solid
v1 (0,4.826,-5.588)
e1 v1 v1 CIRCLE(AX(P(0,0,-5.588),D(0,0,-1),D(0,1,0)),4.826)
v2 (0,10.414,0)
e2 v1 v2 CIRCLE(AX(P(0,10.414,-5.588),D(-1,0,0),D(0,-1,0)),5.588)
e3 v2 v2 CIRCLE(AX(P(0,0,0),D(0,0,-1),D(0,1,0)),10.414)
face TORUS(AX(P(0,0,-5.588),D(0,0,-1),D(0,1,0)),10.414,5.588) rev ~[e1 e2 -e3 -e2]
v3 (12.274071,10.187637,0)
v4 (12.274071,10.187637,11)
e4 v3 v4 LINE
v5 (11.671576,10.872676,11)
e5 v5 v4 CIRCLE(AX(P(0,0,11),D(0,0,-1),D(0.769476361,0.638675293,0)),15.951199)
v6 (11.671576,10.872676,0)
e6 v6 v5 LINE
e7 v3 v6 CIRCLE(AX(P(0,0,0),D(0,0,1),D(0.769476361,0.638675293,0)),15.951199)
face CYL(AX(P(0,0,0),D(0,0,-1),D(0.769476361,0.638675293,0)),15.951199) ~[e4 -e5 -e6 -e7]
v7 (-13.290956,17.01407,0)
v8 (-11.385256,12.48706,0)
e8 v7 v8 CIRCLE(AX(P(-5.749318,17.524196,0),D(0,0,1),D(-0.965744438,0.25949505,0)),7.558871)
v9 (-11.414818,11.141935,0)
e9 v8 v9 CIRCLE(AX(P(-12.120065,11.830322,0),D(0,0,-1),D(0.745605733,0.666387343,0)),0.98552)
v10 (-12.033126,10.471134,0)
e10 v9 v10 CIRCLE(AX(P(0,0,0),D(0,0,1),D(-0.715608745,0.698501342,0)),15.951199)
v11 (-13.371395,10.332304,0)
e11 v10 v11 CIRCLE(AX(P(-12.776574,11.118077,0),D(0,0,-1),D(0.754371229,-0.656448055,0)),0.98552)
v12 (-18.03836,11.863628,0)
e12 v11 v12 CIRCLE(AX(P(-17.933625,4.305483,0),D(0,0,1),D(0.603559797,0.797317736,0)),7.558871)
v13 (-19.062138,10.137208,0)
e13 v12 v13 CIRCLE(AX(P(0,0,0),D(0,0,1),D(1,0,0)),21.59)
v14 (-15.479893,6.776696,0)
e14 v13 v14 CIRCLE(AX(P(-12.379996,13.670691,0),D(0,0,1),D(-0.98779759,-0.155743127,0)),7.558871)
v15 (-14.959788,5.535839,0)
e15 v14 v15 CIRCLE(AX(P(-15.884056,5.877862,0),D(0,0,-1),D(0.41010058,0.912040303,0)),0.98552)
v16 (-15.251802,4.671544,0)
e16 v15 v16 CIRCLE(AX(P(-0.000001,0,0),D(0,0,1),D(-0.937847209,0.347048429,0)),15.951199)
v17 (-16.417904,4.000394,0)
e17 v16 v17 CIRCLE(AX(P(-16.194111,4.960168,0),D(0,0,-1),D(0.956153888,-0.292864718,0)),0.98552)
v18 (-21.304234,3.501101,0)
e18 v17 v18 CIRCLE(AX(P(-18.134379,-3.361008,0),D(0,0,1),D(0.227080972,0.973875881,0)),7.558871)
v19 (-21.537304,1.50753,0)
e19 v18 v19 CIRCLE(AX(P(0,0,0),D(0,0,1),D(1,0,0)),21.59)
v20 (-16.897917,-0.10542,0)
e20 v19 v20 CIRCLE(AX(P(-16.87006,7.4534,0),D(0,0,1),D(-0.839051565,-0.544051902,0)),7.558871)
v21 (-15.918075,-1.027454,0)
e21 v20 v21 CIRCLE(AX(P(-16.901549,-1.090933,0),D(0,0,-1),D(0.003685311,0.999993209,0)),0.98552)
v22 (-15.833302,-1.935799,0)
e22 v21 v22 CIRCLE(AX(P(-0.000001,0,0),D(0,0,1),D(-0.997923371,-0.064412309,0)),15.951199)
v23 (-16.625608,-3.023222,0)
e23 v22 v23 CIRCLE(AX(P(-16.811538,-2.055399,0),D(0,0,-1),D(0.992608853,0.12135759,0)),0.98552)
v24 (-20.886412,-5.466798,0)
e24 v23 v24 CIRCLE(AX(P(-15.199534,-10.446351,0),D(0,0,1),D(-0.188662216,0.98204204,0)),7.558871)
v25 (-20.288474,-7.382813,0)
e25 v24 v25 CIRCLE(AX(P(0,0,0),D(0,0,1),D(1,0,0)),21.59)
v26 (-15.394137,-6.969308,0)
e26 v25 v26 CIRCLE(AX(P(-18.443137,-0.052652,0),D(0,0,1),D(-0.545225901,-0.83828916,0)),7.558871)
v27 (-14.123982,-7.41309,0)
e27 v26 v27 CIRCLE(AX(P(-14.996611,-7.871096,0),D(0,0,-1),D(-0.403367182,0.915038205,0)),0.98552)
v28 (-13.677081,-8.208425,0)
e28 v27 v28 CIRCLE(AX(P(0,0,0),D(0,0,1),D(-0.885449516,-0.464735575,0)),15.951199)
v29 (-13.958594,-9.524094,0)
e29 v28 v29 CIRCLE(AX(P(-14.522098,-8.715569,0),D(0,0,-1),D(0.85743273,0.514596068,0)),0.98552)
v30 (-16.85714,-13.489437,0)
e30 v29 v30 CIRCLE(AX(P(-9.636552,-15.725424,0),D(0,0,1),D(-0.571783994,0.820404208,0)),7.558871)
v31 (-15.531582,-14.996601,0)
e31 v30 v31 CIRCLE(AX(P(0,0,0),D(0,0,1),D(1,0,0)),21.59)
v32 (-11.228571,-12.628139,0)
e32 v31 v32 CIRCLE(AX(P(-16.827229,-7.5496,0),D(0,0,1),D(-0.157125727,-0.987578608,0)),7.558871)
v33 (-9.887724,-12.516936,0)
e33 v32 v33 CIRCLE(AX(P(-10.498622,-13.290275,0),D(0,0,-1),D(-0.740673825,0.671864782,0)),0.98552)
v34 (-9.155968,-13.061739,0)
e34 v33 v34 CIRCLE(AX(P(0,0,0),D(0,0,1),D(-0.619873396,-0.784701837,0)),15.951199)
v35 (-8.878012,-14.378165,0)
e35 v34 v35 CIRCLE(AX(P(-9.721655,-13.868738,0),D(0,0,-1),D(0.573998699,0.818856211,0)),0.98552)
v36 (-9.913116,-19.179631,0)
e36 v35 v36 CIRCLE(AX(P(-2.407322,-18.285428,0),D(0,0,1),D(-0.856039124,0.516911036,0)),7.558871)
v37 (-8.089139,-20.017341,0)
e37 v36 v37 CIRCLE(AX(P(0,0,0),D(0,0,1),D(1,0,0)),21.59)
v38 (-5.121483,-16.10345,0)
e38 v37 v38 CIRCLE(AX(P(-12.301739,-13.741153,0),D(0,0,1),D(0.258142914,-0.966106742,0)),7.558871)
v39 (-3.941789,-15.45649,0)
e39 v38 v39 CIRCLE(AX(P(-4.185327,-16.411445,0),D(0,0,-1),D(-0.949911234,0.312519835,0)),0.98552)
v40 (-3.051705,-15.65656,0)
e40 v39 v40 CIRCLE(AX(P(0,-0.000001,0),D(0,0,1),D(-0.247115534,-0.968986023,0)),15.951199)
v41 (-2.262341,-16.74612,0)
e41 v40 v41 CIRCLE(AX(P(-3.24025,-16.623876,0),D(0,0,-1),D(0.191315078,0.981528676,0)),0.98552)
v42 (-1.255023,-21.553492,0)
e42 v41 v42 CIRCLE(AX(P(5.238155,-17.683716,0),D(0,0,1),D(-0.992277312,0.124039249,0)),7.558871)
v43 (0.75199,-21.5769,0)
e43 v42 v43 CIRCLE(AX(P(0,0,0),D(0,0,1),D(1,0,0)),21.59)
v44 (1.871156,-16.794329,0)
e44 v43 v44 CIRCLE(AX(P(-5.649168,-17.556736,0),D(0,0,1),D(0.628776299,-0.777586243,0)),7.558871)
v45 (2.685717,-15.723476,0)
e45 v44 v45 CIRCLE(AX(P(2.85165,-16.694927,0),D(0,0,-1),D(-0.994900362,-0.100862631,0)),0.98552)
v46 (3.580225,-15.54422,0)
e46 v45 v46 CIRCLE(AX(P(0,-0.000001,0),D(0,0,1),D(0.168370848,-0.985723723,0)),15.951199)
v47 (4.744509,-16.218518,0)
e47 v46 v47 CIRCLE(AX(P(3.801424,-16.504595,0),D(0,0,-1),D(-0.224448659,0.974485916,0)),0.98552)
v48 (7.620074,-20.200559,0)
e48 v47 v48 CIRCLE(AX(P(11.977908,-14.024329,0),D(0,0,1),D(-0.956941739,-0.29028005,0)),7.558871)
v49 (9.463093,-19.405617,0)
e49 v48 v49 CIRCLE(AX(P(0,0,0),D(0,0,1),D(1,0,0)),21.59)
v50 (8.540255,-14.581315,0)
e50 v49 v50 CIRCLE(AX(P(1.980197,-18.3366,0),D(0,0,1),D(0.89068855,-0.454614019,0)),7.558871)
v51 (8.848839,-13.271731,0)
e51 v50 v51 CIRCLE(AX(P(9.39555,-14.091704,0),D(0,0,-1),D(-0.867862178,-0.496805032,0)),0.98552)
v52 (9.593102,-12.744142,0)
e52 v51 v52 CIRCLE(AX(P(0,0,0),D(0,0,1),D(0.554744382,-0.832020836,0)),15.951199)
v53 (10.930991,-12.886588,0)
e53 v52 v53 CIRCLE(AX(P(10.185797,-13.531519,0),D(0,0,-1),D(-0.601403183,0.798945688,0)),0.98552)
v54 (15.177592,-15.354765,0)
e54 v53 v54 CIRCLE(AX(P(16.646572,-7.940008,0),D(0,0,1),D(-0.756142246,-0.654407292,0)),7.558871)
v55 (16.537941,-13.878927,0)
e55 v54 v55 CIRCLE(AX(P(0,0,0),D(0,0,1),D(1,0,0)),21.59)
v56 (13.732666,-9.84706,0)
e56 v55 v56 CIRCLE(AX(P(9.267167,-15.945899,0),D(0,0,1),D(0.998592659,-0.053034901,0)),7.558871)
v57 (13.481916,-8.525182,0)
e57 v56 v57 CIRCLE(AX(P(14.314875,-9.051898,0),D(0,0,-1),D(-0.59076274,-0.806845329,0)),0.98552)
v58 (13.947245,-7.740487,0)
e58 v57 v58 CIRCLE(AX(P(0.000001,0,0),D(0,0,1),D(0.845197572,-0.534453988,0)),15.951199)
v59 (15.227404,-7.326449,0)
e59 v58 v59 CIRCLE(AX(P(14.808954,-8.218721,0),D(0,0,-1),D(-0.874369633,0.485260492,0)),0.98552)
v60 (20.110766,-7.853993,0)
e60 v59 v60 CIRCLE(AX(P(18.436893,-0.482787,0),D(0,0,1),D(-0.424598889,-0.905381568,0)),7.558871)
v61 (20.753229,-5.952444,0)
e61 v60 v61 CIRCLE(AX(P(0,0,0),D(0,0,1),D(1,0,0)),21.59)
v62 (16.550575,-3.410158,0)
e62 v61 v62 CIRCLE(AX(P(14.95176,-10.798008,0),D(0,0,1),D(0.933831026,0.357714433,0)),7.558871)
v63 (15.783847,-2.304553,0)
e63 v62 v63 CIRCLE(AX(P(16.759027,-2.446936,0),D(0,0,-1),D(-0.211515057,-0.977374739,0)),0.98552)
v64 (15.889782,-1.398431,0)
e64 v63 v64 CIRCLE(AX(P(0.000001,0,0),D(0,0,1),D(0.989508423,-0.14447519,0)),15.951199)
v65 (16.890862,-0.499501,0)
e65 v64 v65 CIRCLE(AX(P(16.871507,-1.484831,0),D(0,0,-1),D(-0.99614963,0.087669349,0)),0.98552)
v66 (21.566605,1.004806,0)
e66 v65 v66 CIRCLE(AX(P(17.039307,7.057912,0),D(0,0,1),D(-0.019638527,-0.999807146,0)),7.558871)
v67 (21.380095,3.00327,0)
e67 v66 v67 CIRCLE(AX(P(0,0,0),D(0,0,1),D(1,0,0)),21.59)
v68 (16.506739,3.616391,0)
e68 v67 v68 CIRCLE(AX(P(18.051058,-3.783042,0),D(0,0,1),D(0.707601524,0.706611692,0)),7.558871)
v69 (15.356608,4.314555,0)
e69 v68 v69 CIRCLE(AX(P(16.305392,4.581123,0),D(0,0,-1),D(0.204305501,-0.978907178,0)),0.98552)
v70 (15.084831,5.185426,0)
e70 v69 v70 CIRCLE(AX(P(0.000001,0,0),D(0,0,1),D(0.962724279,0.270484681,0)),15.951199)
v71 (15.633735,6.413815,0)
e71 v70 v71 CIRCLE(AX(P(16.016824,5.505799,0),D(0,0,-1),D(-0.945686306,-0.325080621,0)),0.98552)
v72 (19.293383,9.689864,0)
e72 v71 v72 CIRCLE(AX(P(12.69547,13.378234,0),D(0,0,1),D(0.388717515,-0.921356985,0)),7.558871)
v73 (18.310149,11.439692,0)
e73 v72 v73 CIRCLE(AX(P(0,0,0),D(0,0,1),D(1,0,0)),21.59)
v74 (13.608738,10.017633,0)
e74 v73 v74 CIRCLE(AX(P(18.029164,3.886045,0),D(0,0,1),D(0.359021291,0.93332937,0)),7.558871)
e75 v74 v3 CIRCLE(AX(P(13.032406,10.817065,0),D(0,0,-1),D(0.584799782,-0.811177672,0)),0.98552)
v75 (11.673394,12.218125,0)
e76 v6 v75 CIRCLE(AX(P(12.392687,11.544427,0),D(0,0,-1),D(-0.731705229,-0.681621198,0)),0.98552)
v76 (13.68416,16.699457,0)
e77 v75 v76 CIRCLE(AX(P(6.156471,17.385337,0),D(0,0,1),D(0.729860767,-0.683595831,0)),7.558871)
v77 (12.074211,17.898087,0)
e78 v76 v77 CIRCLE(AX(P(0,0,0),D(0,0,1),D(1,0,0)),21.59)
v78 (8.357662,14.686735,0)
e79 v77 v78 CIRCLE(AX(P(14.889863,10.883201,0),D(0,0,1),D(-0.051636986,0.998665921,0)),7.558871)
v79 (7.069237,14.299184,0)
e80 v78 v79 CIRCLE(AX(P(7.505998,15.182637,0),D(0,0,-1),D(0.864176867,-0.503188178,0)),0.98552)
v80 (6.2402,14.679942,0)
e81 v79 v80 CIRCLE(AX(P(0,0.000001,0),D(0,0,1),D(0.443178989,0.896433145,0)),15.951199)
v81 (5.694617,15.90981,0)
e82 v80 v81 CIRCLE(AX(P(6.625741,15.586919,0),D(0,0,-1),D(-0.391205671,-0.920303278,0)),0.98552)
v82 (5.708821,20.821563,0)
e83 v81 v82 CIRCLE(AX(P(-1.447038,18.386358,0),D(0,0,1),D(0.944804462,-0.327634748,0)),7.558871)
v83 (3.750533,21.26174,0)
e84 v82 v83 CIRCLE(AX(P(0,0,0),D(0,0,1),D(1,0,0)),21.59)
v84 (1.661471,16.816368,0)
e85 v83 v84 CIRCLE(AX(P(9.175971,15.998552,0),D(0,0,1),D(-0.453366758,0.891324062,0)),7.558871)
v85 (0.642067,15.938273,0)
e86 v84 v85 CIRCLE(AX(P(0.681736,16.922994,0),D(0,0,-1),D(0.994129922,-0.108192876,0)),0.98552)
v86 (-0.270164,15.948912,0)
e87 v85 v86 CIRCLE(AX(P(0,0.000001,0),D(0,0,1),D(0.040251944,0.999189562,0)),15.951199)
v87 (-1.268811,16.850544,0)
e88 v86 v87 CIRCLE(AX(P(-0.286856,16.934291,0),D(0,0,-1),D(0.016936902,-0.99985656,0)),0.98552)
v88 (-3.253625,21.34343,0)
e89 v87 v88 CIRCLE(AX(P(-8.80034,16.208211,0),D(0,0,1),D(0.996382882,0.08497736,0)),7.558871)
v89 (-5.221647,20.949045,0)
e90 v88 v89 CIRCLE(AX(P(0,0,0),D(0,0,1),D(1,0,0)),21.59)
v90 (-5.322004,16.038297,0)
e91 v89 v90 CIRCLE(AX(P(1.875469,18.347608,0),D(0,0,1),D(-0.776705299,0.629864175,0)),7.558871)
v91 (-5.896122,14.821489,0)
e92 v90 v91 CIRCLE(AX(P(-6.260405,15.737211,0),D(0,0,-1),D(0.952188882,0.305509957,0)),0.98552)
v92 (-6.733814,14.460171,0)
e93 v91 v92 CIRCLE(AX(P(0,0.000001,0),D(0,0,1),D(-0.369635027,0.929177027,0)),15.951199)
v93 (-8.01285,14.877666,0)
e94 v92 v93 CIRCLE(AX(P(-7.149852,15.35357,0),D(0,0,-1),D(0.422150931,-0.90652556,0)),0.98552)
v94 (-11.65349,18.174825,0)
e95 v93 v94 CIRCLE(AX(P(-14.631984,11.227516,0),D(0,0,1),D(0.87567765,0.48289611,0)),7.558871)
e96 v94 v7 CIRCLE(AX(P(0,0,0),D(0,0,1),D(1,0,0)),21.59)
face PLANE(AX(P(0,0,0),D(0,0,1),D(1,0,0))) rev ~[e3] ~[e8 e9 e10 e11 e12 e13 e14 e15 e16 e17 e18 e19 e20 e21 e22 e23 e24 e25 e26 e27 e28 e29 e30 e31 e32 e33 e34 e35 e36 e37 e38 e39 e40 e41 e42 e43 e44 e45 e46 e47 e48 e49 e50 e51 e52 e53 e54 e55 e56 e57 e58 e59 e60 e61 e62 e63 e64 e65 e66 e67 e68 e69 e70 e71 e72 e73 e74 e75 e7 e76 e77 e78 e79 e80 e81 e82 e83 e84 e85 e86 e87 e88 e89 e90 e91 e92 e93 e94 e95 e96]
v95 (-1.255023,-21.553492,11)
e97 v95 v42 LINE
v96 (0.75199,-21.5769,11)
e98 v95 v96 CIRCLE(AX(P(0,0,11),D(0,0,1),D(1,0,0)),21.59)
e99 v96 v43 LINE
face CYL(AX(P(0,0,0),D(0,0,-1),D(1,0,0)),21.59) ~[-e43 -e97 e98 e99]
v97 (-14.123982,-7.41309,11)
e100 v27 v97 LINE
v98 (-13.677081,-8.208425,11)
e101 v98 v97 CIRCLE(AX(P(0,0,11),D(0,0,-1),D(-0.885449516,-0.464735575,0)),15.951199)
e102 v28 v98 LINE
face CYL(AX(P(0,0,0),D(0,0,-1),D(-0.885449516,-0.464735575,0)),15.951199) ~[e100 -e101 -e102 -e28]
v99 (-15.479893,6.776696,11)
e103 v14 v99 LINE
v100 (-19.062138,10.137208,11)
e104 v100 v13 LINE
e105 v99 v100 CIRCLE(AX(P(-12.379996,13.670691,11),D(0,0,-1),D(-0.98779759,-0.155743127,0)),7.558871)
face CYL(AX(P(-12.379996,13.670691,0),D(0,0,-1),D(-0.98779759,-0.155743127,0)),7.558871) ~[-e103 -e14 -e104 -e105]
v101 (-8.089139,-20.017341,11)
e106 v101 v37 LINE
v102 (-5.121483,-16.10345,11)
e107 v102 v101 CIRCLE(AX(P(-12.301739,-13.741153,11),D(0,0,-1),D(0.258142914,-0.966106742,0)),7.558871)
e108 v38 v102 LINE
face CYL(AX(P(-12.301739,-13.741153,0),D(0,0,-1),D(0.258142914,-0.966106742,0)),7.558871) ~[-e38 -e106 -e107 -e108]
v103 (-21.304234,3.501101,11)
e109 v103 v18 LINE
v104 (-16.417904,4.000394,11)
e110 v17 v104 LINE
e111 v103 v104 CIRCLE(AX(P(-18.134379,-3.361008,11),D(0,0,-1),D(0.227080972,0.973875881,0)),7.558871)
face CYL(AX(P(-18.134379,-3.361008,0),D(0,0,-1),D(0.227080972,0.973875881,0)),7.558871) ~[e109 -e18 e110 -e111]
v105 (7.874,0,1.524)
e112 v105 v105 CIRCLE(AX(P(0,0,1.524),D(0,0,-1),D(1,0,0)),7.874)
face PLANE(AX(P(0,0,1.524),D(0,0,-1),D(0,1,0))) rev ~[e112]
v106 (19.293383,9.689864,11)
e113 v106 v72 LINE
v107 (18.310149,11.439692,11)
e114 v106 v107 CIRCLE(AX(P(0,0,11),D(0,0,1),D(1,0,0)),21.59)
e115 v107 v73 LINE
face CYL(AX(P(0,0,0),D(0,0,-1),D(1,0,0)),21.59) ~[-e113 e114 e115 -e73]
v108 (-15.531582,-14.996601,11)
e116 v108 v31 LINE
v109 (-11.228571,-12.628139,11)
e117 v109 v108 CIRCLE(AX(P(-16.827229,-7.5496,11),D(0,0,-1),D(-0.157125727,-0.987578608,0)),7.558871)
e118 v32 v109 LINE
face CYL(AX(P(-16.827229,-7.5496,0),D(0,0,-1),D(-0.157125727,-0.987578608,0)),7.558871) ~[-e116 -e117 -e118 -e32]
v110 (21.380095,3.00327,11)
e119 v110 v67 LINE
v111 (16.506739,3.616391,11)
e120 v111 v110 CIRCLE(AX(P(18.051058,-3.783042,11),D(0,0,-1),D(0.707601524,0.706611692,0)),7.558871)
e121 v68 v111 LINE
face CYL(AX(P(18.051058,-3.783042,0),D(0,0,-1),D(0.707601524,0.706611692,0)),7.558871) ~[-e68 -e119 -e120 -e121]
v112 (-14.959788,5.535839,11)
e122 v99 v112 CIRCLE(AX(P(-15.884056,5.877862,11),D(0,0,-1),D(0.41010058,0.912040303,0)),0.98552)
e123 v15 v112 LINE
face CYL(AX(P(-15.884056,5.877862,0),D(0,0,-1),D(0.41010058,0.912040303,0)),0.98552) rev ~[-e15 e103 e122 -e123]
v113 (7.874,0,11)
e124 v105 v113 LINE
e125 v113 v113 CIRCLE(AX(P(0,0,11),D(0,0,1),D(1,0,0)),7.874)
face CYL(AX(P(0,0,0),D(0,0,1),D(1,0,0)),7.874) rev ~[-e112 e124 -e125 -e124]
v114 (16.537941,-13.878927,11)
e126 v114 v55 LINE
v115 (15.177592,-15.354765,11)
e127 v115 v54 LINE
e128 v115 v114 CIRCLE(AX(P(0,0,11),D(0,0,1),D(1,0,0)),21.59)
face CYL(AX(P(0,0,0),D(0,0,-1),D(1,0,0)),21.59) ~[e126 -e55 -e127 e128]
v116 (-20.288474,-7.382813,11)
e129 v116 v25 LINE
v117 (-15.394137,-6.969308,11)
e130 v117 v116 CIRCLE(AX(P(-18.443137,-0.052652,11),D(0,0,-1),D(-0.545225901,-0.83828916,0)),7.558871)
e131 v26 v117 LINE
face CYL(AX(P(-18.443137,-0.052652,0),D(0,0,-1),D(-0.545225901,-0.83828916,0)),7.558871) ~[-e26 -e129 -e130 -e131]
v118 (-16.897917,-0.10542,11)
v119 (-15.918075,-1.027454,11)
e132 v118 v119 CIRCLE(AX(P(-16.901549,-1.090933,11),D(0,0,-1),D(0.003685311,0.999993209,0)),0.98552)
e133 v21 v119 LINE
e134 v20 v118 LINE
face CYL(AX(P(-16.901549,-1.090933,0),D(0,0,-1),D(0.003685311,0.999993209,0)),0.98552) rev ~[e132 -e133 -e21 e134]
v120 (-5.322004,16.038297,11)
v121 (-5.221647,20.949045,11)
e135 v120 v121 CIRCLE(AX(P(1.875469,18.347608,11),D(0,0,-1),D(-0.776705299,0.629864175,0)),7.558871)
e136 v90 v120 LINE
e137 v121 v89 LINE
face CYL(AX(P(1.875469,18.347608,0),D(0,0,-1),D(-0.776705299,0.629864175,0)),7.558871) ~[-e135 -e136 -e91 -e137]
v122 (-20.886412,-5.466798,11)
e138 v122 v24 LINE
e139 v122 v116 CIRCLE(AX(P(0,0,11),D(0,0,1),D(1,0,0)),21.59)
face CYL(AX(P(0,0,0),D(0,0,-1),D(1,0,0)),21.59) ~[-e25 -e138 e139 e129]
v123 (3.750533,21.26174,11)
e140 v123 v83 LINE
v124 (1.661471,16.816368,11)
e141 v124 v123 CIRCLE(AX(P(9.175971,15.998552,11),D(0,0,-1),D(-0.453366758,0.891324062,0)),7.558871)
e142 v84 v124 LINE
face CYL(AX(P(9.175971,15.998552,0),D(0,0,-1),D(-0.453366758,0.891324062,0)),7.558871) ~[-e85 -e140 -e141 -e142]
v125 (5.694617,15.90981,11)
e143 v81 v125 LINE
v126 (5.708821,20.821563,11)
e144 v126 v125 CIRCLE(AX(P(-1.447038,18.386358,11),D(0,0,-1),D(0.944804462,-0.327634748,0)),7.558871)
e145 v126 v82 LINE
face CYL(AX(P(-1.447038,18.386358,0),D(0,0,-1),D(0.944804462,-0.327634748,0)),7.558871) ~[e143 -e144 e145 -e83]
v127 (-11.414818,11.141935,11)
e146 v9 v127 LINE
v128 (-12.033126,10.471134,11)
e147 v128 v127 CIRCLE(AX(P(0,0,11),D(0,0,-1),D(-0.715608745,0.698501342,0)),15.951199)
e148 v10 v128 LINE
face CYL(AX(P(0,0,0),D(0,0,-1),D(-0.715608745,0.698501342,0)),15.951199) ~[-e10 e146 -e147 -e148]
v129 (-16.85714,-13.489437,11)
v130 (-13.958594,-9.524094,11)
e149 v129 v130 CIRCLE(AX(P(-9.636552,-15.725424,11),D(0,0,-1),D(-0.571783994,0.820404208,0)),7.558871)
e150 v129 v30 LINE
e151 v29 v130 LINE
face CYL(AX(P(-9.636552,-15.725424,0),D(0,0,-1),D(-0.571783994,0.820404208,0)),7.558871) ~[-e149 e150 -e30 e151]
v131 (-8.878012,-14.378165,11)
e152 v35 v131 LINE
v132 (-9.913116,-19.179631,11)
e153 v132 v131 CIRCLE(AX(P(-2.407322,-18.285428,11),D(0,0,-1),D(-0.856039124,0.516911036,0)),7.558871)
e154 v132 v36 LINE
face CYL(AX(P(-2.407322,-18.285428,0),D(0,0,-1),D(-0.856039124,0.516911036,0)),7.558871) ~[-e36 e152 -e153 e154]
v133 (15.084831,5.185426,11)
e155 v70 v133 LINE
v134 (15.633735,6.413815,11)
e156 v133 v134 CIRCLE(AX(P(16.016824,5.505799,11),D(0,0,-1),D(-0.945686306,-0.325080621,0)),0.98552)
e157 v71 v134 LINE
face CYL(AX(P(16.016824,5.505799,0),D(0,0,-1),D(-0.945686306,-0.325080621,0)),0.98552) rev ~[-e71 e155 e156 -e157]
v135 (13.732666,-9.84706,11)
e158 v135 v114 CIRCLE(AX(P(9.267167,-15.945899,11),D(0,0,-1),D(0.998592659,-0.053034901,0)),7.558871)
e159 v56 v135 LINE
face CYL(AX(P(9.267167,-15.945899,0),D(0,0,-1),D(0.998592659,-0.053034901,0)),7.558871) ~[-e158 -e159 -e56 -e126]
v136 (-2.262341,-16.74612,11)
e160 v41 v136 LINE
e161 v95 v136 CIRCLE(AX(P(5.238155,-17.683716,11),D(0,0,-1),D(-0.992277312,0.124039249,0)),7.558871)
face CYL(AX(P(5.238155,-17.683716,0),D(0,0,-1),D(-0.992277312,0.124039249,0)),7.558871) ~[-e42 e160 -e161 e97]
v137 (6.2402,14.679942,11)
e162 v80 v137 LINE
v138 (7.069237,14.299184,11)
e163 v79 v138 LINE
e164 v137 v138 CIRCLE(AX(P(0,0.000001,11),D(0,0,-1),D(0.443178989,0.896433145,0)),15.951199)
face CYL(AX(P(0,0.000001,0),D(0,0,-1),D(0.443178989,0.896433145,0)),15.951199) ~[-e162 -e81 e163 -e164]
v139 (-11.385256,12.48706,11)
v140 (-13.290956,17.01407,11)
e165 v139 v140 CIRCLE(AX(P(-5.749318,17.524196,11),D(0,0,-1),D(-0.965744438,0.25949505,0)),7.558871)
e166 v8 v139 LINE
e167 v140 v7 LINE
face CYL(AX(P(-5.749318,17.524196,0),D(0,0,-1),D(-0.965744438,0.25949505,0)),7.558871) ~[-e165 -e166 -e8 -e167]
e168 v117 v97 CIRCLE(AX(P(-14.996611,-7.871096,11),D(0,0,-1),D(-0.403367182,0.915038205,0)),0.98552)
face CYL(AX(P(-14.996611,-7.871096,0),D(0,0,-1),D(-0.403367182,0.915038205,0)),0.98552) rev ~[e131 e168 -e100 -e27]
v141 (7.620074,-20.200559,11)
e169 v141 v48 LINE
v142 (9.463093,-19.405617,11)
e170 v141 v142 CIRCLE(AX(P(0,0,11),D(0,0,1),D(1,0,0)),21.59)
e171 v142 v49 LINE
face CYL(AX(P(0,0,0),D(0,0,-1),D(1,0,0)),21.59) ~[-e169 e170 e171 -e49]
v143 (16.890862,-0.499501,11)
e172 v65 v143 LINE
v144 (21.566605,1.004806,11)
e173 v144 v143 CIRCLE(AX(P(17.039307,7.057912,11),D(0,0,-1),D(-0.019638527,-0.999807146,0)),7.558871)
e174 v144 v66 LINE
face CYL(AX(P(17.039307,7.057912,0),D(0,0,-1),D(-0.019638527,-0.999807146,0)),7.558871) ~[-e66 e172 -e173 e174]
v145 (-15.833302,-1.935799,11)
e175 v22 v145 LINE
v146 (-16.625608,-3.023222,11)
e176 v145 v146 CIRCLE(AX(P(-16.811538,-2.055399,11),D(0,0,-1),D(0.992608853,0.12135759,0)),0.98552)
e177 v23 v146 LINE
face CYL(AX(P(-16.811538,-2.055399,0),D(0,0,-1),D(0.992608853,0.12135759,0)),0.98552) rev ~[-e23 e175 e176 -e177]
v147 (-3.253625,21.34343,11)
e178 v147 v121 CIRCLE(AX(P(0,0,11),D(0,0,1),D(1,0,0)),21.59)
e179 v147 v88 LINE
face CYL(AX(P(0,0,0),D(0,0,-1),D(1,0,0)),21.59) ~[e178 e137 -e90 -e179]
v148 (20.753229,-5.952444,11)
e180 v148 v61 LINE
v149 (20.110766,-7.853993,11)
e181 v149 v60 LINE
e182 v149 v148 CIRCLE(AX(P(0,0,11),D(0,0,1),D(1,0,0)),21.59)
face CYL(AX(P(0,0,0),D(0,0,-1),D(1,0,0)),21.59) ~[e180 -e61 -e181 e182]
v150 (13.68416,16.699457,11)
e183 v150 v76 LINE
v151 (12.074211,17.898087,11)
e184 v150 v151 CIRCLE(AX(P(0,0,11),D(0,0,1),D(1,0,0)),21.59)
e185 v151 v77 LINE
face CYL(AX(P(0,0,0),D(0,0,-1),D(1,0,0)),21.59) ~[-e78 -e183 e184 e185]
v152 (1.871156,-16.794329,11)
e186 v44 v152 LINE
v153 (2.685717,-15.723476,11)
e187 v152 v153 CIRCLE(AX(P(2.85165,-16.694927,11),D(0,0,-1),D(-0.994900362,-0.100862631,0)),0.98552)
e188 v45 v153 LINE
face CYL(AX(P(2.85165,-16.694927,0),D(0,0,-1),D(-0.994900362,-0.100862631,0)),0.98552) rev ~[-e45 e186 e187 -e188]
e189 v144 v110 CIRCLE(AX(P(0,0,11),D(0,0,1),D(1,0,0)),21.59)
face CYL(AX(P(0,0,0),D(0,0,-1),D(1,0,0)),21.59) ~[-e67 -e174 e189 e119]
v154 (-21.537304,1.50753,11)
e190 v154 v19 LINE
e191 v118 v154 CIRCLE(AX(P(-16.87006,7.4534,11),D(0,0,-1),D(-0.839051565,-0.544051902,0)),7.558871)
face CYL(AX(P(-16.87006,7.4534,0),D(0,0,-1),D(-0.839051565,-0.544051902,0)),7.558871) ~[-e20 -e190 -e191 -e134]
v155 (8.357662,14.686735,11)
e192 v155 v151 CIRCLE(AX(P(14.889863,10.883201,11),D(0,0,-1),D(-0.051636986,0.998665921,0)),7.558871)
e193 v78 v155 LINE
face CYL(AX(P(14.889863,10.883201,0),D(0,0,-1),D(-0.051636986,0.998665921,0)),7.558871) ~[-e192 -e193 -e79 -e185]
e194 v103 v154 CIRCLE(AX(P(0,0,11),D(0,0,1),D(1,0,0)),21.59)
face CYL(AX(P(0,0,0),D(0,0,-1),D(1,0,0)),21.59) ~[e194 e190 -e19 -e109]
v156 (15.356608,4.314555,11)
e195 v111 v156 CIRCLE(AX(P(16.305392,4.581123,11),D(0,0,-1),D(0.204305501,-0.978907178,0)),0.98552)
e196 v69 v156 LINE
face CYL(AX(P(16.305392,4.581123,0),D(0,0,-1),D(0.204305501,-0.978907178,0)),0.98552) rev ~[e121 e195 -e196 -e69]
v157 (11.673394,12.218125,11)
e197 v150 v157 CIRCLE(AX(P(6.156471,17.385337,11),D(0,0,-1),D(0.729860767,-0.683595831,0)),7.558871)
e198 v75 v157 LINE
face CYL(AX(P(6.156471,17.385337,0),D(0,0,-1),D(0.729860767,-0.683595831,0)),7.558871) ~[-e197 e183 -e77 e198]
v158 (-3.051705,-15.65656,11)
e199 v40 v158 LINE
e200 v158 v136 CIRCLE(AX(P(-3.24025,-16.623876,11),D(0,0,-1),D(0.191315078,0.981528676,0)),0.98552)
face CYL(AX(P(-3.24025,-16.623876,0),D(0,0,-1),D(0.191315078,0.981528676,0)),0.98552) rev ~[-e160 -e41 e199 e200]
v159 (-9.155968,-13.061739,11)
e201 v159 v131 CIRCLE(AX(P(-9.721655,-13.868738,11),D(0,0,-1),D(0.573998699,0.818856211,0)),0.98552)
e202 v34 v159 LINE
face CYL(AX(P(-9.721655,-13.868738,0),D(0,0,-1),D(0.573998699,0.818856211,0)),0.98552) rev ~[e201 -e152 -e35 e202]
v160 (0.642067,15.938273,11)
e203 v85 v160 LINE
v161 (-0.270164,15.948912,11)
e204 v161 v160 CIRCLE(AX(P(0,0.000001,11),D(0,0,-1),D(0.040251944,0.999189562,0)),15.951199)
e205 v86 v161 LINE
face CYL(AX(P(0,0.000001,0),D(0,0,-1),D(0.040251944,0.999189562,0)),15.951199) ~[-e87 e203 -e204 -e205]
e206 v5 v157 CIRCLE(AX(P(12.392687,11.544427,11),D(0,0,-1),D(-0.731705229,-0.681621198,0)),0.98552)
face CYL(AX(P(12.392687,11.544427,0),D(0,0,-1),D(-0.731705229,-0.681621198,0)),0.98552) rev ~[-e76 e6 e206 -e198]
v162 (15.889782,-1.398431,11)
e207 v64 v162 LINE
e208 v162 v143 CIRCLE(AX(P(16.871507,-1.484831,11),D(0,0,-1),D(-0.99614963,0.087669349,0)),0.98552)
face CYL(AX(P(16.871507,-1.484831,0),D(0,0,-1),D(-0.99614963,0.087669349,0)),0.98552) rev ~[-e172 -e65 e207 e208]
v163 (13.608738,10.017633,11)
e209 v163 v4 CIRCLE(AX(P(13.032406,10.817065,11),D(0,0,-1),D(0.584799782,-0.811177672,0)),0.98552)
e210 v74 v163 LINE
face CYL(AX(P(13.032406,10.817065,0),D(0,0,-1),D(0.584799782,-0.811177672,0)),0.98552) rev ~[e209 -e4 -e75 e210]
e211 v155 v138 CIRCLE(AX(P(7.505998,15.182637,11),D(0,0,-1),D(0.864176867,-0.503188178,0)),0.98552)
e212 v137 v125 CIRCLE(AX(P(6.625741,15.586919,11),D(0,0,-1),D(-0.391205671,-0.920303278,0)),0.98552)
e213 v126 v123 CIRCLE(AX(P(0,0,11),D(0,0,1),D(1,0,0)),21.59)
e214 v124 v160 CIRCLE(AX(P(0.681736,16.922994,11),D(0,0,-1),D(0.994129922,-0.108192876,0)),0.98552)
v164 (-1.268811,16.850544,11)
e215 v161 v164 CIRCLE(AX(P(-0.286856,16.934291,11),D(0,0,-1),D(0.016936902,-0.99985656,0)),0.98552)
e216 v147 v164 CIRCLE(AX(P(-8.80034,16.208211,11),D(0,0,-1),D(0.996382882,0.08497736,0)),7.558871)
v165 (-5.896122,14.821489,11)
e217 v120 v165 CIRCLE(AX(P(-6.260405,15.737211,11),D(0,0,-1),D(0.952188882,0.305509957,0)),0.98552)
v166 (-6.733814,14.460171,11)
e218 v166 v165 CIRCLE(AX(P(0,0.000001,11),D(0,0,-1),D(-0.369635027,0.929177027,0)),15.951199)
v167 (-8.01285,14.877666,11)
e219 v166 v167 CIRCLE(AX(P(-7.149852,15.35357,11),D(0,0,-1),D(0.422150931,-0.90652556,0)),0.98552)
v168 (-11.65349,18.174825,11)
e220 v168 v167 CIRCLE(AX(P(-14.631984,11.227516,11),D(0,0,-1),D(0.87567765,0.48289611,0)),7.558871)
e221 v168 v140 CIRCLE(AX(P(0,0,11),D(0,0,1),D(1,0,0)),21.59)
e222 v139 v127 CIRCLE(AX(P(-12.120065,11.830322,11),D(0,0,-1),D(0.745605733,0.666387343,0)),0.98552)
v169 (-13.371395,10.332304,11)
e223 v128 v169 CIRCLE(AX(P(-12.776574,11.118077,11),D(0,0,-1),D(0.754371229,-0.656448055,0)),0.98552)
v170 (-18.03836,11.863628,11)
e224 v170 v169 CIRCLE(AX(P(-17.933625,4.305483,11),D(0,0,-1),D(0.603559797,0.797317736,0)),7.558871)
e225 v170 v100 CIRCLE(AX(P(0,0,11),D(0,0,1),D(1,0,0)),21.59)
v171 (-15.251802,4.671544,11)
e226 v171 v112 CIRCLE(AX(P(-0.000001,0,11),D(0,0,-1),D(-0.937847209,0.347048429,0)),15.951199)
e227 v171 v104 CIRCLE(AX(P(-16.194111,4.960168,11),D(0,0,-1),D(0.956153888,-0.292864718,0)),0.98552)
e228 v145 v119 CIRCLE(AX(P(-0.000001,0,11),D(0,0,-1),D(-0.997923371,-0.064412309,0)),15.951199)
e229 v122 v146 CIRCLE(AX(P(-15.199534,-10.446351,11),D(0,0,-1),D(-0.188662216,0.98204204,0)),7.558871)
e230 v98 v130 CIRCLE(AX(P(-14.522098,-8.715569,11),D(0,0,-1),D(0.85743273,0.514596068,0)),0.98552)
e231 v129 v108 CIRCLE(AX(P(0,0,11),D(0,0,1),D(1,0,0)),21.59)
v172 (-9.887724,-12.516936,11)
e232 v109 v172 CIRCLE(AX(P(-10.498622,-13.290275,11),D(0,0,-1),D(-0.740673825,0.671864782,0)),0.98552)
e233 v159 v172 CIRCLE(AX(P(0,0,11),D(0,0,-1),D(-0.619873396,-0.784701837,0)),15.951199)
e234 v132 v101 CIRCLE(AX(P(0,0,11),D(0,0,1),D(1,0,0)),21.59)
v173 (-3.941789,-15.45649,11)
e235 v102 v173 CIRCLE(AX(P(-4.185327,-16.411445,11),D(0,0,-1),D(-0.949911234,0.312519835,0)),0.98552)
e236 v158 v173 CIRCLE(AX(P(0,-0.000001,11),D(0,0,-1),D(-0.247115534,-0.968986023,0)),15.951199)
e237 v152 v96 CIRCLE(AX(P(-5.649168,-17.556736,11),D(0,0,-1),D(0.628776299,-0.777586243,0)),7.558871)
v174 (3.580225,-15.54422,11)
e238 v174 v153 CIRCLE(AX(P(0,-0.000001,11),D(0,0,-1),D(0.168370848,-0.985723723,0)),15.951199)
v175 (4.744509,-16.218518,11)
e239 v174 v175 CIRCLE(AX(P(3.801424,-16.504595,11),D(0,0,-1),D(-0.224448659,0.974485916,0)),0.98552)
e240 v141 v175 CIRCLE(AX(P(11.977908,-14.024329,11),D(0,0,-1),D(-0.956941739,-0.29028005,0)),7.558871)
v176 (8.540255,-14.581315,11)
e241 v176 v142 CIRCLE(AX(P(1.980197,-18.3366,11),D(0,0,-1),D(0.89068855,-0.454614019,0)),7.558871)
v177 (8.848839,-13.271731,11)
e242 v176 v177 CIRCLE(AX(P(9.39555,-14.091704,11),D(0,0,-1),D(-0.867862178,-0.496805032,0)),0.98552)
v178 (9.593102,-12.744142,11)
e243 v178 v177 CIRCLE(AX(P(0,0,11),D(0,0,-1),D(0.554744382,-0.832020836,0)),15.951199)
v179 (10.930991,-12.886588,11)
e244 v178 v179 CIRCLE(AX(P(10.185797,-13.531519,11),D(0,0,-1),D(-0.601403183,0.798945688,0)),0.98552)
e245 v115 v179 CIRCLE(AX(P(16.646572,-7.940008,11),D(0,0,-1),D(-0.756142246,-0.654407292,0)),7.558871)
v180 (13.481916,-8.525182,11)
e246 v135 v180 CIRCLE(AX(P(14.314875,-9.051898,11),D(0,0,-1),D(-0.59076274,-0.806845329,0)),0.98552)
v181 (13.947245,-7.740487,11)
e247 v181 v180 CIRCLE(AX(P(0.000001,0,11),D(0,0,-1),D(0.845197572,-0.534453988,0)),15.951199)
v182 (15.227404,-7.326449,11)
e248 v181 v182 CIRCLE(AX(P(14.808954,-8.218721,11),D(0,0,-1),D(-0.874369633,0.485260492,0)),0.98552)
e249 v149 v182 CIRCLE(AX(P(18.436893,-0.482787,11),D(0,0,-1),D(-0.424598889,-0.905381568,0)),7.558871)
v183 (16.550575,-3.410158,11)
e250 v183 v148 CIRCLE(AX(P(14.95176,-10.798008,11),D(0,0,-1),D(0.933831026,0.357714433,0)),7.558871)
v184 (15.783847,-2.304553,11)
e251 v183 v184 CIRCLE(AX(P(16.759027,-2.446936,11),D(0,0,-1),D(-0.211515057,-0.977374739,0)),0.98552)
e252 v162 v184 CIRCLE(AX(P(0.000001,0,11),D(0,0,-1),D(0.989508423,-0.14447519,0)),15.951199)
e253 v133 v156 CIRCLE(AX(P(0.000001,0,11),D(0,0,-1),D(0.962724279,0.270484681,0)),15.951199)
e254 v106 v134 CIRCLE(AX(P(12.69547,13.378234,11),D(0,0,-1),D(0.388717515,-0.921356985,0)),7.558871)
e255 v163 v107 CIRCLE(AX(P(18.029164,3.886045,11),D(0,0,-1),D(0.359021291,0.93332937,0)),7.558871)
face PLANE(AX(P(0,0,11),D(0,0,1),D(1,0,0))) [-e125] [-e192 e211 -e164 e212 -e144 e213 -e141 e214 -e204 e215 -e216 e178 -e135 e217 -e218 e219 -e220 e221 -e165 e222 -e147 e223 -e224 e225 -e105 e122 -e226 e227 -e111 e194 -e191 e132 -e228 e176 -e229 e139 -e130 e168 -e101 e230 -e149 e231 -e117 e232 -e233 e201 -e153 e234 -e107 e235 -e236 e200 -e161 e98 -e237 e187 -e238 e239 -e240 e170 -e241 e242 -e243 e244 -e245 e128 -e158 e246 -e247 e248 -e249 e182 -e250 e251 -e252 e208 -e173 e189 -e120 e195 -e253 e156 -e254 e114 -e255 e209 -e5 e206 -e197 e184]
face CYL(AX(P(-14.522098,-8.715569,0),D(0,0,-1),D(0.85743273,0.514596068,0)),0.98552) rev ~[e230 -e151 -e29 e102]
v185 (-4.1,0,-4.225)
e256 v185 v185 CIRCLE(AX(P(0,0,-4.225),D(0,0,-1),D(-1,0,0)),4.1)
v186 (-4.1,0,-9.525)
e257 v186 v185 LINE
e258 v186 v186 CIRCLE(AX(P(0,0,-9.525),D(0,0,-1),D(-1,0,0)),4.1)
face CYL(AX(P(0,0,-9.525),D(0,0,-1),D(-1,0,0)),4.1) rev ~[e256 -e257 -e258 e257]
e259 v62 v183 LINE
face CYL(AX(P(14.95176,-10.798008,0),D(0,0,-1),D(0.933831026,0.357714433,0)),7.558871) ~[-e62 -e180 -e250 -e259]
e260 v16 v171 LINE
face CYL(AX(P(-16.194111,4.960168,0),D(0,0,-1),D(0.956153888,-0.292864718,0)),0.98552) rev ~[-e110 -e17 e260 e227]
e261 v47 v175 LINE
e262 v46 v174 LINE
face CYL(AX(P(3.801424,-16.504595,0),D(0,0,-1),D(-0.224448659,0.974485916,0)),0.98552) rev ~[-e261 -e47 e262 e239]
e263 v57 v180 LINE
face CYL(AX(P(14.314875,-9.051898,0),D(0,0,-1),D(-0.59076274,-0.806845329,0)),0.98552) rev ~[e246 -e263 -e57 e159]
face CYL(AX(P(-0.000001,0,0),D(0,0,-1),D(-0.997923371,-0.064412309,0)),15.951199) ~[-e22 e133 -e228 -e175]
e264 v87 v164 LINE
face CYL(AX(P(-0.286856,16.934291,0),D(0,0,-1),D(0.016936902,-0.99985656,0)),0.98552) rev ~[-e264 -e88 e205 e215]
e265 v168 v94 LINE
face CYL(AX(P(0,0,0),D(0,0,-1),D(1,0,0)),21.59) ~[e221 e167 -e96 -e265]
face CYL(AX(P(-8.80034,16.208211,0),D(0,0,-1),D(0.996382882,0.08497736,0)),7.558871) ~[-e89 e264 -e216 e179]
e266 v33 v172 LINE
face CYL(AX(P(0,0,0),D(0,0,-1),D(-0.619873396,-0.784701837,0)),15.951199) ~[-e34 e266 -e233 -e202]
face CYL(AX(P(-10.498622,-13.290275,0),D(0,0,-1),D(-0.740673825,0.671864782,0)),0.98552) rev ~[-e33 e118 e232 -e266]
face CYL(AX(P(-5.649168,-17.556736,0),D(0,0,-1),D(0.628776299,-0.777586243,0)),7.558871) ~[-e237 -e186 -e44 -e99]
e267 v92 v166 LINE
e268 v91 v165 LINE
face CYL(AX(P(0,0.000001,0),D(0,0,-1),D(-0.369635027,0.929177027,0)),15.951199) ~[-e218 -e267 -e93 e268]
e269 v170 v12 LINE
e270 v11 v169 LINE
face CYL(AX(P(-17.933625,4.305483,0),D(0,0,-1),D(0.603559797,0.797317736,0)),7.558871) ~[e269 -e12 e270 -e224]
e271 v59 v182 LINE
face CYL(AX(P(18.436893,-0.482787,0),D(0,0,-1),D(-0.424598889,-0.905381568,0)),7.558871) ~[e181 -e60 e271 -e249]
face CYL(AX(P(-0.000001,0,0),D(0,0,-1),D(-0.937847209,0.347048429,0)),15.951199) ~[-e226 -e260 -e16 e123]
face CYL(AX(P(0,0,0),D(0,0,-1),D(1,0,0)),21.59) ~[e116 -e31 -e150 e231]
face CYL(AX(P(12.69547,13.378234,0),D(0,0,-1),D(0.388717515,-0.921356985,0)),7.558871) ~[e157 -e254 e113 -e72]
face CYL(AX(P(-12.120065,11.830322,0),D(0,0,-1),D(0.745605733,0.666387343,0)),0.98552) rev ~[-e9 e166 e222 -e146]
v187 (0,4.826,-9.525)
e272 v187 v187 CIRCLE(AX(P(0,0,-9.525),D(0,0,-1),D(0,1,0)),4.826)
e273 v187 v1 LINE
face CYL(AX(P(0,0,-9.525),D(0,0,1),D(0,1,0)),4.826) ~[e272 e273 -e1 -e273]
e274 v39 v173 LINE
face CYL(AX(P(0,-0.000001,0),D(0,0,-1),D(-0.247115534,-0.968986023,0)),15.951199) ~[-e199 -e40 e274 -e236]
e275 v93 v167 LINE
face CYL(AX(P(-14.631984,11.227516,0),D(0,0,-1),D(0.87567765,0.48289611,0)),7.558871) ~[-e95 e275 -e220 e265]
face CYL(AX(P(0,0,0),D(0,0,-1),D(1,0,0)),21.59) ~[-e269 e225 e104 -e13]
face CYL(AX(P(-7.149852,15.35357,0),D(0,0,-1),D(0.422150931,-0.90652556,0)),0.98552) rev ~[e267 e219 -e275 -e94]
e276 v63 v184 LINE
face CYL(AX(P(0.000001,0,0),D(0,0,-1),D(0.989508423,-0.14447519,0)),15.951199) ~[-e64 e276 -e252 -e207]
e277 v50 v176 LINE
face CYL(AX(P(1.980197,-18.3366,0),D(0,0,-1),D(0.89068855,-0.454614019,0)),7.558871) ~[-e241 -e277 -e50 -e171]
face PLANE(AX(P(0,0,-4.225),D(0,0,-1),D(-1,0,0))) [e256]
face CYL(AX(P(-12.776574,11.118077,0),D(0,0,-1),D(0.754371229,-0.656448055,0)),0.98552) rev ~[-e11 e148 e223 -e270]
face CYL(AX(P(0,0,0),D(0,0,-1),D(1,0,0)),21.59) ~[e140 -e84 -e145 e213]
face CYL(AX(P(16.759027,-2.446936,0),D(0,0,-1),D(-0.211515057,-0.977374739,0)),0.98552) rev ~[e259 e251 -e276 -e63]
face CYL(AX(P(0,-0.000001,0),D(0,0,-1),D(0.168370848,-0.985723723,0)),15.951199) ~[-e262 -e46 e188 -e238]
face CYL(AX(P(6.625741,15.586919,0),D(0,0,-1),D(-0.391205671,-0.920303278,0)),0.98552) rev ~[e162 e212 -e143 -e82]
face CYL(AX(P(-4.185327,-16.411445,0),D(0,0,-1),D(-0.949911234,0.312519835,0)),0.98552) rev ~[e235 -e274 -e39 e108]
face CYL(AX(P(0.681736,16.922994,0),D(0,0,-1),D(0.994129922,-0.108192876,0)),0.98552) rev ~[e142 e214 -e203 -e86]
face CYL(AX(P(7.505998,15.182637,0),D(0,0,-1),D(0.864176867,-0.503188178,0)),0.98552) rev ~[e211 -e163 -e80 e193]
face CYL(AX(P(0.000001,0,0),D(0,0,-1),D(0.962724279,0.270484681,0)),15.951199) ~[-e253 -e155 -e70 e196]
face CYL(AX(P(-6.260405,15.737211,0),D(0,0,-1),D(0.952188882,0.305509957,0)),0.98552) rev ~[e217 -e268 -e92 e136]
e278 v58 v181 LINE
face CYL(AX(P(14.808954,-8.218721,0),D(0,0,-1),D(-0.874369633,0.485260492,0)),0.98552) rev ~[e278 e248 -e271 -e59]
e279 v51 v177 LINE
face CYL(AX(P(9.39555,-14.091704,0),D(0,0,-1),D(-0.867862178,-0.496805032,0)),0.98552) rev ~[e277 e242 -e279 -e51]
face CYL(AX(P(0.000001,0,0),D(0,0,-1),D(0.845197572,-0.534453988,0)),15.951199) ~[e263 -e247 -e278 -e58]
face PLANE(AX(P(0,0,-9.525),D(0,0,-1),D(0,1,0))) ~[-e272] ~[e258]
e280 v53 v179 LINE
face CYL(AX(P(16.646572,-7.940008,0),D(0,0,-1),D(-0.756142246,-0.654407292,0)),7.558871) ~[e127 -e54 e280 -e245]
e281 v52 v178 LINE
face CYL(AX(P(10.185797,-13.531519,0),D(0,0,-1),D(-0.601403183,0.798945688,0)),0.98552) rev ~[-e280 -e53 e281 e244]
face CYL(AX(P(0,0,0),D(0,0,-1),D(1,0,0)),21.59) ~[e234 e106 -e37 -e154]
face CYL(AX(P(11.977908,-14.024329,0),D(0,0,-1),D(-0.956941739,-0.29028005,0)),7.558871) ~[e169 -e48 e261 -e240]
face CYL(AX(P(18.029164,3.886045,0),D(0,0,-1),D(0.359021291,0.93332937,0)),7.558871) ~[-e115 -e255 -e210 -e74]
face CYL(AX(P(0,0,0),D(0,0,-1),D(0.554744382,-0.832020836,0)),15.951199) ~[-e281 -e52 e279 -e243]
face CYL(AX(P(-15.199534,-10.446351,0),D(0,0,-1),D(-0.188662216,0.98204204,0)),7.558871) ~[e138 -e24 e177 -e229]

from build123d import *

# Parameters (mm, degrees)
SKETCH3_R          = 21.59
GEARBODY_DEPTH     = 11
TOOTHCUT_DEPTH     = 12
CIRPATTERN1_COUNT  = 15
BOREDIA_R          = 7.874
BORE_DEPTH         = 12700
SKETCH6_R          = 4.1
CUT_EXTRUDE1_DEPTH = 5.3


with BuildPart() as part:
    # Sketch3 → gearBody (new body)
    with BuildSketch(Plane.XY):
        Circle(SKETCH3_R)
    extrude(amount=GEARBODY_DEPTH)

    # Sketch2 → toothCut (cut, through all)
    with BuildSketch(Plane.XY):
        with BuildLine():
            ThreePointArc((15.783846764, -2.304552616), (15.843293638, -1.852249483), (15.889781974, -1.39843136))
            ThreePointArc((15.889781974, -1.39843136), (16.213055843, -0.751556907), (16.890861518, -0.499501321))
            ThreePointArc((16.890861518, -0.499501321), (20.504912911, 0.340315353), (23.283949955, 2.798691365))
            ThreePointArc((23.283949955, 2.798691365), (23.292901215, -2.723187818), (22.010467945, -8.09409042))
            ThreePointArc((22.010467945, -8.09409042), (19.873444675, -5.060974685), (16.550574786, -3.410158156))
            ThreePointArc((16.550574786, -3.410158156), (15.949189176, -3.008551507), (15.783846764, -2.304552616))
        make_face()
    toothcut = extrude(amount=TOOTHCUT_DEPTH, mode=Mode.SUBTRACT)

    # CirPattern1: toothCut ×15 about axis
    cirpattern1_axis = Axis((0, 0, 0), (0, 0, 1))
    for i in range(1, CIRPATTERN1_COUNT):
        add(toothcut.rotate(cirpattern1_axis, i * 360 / CIRPATTERN1_COUNT), mode=Mode.SUBTRACT)

    # boreDia → bore (cut, symmetric)
    with BuildSketch(Plane.XY):
        Circle(BOREDIA_R)
    extrude(amount=BORE_DEPTH, both=True, mode=Mode.SUBTRACT)

    # Sketch4 → Revolve1 (revolve)
    with BuildSketch(Plane(origin=(0, 0, 0), x_dir=(0, 0, -1), z_dir=(1, 0, 0))):
        with BuildLine():
            Line((0, 0), (9.525, 0))
            Line((9.525, 0), (9.525, 4.826))
            Line((9.525, 4.826), (5.588, 4.826))
            ThreePointArc((5.588, 4.826), (1.636687307, 6.462687307), (0, 10.414))
            Line((0, 10.414), (0, 7.874))
            Line((0, 7.874), (-1.524, 7.874))
            Line((-1.524, 7.874), (-1.524, 0))
            Line((-1.524, 0), (0, 0))
        make_face()
    revolve(axis=Axis((0, 0, 0), (0, 0, -1)))

    # Sketch6 → Cut-Extrude1 (cut)
    with BuildSketch(Plane(origin=(0, 0, -9.525), x_dir=(-1, 0, 0), z_dir=(0, 0, -1))):
        Circle(SKETCH6_R)
    extrude(amount=-CUT_EXTRUDE1_DEPTH, mode=Mode.SUBTRACT)


solid = part.part
